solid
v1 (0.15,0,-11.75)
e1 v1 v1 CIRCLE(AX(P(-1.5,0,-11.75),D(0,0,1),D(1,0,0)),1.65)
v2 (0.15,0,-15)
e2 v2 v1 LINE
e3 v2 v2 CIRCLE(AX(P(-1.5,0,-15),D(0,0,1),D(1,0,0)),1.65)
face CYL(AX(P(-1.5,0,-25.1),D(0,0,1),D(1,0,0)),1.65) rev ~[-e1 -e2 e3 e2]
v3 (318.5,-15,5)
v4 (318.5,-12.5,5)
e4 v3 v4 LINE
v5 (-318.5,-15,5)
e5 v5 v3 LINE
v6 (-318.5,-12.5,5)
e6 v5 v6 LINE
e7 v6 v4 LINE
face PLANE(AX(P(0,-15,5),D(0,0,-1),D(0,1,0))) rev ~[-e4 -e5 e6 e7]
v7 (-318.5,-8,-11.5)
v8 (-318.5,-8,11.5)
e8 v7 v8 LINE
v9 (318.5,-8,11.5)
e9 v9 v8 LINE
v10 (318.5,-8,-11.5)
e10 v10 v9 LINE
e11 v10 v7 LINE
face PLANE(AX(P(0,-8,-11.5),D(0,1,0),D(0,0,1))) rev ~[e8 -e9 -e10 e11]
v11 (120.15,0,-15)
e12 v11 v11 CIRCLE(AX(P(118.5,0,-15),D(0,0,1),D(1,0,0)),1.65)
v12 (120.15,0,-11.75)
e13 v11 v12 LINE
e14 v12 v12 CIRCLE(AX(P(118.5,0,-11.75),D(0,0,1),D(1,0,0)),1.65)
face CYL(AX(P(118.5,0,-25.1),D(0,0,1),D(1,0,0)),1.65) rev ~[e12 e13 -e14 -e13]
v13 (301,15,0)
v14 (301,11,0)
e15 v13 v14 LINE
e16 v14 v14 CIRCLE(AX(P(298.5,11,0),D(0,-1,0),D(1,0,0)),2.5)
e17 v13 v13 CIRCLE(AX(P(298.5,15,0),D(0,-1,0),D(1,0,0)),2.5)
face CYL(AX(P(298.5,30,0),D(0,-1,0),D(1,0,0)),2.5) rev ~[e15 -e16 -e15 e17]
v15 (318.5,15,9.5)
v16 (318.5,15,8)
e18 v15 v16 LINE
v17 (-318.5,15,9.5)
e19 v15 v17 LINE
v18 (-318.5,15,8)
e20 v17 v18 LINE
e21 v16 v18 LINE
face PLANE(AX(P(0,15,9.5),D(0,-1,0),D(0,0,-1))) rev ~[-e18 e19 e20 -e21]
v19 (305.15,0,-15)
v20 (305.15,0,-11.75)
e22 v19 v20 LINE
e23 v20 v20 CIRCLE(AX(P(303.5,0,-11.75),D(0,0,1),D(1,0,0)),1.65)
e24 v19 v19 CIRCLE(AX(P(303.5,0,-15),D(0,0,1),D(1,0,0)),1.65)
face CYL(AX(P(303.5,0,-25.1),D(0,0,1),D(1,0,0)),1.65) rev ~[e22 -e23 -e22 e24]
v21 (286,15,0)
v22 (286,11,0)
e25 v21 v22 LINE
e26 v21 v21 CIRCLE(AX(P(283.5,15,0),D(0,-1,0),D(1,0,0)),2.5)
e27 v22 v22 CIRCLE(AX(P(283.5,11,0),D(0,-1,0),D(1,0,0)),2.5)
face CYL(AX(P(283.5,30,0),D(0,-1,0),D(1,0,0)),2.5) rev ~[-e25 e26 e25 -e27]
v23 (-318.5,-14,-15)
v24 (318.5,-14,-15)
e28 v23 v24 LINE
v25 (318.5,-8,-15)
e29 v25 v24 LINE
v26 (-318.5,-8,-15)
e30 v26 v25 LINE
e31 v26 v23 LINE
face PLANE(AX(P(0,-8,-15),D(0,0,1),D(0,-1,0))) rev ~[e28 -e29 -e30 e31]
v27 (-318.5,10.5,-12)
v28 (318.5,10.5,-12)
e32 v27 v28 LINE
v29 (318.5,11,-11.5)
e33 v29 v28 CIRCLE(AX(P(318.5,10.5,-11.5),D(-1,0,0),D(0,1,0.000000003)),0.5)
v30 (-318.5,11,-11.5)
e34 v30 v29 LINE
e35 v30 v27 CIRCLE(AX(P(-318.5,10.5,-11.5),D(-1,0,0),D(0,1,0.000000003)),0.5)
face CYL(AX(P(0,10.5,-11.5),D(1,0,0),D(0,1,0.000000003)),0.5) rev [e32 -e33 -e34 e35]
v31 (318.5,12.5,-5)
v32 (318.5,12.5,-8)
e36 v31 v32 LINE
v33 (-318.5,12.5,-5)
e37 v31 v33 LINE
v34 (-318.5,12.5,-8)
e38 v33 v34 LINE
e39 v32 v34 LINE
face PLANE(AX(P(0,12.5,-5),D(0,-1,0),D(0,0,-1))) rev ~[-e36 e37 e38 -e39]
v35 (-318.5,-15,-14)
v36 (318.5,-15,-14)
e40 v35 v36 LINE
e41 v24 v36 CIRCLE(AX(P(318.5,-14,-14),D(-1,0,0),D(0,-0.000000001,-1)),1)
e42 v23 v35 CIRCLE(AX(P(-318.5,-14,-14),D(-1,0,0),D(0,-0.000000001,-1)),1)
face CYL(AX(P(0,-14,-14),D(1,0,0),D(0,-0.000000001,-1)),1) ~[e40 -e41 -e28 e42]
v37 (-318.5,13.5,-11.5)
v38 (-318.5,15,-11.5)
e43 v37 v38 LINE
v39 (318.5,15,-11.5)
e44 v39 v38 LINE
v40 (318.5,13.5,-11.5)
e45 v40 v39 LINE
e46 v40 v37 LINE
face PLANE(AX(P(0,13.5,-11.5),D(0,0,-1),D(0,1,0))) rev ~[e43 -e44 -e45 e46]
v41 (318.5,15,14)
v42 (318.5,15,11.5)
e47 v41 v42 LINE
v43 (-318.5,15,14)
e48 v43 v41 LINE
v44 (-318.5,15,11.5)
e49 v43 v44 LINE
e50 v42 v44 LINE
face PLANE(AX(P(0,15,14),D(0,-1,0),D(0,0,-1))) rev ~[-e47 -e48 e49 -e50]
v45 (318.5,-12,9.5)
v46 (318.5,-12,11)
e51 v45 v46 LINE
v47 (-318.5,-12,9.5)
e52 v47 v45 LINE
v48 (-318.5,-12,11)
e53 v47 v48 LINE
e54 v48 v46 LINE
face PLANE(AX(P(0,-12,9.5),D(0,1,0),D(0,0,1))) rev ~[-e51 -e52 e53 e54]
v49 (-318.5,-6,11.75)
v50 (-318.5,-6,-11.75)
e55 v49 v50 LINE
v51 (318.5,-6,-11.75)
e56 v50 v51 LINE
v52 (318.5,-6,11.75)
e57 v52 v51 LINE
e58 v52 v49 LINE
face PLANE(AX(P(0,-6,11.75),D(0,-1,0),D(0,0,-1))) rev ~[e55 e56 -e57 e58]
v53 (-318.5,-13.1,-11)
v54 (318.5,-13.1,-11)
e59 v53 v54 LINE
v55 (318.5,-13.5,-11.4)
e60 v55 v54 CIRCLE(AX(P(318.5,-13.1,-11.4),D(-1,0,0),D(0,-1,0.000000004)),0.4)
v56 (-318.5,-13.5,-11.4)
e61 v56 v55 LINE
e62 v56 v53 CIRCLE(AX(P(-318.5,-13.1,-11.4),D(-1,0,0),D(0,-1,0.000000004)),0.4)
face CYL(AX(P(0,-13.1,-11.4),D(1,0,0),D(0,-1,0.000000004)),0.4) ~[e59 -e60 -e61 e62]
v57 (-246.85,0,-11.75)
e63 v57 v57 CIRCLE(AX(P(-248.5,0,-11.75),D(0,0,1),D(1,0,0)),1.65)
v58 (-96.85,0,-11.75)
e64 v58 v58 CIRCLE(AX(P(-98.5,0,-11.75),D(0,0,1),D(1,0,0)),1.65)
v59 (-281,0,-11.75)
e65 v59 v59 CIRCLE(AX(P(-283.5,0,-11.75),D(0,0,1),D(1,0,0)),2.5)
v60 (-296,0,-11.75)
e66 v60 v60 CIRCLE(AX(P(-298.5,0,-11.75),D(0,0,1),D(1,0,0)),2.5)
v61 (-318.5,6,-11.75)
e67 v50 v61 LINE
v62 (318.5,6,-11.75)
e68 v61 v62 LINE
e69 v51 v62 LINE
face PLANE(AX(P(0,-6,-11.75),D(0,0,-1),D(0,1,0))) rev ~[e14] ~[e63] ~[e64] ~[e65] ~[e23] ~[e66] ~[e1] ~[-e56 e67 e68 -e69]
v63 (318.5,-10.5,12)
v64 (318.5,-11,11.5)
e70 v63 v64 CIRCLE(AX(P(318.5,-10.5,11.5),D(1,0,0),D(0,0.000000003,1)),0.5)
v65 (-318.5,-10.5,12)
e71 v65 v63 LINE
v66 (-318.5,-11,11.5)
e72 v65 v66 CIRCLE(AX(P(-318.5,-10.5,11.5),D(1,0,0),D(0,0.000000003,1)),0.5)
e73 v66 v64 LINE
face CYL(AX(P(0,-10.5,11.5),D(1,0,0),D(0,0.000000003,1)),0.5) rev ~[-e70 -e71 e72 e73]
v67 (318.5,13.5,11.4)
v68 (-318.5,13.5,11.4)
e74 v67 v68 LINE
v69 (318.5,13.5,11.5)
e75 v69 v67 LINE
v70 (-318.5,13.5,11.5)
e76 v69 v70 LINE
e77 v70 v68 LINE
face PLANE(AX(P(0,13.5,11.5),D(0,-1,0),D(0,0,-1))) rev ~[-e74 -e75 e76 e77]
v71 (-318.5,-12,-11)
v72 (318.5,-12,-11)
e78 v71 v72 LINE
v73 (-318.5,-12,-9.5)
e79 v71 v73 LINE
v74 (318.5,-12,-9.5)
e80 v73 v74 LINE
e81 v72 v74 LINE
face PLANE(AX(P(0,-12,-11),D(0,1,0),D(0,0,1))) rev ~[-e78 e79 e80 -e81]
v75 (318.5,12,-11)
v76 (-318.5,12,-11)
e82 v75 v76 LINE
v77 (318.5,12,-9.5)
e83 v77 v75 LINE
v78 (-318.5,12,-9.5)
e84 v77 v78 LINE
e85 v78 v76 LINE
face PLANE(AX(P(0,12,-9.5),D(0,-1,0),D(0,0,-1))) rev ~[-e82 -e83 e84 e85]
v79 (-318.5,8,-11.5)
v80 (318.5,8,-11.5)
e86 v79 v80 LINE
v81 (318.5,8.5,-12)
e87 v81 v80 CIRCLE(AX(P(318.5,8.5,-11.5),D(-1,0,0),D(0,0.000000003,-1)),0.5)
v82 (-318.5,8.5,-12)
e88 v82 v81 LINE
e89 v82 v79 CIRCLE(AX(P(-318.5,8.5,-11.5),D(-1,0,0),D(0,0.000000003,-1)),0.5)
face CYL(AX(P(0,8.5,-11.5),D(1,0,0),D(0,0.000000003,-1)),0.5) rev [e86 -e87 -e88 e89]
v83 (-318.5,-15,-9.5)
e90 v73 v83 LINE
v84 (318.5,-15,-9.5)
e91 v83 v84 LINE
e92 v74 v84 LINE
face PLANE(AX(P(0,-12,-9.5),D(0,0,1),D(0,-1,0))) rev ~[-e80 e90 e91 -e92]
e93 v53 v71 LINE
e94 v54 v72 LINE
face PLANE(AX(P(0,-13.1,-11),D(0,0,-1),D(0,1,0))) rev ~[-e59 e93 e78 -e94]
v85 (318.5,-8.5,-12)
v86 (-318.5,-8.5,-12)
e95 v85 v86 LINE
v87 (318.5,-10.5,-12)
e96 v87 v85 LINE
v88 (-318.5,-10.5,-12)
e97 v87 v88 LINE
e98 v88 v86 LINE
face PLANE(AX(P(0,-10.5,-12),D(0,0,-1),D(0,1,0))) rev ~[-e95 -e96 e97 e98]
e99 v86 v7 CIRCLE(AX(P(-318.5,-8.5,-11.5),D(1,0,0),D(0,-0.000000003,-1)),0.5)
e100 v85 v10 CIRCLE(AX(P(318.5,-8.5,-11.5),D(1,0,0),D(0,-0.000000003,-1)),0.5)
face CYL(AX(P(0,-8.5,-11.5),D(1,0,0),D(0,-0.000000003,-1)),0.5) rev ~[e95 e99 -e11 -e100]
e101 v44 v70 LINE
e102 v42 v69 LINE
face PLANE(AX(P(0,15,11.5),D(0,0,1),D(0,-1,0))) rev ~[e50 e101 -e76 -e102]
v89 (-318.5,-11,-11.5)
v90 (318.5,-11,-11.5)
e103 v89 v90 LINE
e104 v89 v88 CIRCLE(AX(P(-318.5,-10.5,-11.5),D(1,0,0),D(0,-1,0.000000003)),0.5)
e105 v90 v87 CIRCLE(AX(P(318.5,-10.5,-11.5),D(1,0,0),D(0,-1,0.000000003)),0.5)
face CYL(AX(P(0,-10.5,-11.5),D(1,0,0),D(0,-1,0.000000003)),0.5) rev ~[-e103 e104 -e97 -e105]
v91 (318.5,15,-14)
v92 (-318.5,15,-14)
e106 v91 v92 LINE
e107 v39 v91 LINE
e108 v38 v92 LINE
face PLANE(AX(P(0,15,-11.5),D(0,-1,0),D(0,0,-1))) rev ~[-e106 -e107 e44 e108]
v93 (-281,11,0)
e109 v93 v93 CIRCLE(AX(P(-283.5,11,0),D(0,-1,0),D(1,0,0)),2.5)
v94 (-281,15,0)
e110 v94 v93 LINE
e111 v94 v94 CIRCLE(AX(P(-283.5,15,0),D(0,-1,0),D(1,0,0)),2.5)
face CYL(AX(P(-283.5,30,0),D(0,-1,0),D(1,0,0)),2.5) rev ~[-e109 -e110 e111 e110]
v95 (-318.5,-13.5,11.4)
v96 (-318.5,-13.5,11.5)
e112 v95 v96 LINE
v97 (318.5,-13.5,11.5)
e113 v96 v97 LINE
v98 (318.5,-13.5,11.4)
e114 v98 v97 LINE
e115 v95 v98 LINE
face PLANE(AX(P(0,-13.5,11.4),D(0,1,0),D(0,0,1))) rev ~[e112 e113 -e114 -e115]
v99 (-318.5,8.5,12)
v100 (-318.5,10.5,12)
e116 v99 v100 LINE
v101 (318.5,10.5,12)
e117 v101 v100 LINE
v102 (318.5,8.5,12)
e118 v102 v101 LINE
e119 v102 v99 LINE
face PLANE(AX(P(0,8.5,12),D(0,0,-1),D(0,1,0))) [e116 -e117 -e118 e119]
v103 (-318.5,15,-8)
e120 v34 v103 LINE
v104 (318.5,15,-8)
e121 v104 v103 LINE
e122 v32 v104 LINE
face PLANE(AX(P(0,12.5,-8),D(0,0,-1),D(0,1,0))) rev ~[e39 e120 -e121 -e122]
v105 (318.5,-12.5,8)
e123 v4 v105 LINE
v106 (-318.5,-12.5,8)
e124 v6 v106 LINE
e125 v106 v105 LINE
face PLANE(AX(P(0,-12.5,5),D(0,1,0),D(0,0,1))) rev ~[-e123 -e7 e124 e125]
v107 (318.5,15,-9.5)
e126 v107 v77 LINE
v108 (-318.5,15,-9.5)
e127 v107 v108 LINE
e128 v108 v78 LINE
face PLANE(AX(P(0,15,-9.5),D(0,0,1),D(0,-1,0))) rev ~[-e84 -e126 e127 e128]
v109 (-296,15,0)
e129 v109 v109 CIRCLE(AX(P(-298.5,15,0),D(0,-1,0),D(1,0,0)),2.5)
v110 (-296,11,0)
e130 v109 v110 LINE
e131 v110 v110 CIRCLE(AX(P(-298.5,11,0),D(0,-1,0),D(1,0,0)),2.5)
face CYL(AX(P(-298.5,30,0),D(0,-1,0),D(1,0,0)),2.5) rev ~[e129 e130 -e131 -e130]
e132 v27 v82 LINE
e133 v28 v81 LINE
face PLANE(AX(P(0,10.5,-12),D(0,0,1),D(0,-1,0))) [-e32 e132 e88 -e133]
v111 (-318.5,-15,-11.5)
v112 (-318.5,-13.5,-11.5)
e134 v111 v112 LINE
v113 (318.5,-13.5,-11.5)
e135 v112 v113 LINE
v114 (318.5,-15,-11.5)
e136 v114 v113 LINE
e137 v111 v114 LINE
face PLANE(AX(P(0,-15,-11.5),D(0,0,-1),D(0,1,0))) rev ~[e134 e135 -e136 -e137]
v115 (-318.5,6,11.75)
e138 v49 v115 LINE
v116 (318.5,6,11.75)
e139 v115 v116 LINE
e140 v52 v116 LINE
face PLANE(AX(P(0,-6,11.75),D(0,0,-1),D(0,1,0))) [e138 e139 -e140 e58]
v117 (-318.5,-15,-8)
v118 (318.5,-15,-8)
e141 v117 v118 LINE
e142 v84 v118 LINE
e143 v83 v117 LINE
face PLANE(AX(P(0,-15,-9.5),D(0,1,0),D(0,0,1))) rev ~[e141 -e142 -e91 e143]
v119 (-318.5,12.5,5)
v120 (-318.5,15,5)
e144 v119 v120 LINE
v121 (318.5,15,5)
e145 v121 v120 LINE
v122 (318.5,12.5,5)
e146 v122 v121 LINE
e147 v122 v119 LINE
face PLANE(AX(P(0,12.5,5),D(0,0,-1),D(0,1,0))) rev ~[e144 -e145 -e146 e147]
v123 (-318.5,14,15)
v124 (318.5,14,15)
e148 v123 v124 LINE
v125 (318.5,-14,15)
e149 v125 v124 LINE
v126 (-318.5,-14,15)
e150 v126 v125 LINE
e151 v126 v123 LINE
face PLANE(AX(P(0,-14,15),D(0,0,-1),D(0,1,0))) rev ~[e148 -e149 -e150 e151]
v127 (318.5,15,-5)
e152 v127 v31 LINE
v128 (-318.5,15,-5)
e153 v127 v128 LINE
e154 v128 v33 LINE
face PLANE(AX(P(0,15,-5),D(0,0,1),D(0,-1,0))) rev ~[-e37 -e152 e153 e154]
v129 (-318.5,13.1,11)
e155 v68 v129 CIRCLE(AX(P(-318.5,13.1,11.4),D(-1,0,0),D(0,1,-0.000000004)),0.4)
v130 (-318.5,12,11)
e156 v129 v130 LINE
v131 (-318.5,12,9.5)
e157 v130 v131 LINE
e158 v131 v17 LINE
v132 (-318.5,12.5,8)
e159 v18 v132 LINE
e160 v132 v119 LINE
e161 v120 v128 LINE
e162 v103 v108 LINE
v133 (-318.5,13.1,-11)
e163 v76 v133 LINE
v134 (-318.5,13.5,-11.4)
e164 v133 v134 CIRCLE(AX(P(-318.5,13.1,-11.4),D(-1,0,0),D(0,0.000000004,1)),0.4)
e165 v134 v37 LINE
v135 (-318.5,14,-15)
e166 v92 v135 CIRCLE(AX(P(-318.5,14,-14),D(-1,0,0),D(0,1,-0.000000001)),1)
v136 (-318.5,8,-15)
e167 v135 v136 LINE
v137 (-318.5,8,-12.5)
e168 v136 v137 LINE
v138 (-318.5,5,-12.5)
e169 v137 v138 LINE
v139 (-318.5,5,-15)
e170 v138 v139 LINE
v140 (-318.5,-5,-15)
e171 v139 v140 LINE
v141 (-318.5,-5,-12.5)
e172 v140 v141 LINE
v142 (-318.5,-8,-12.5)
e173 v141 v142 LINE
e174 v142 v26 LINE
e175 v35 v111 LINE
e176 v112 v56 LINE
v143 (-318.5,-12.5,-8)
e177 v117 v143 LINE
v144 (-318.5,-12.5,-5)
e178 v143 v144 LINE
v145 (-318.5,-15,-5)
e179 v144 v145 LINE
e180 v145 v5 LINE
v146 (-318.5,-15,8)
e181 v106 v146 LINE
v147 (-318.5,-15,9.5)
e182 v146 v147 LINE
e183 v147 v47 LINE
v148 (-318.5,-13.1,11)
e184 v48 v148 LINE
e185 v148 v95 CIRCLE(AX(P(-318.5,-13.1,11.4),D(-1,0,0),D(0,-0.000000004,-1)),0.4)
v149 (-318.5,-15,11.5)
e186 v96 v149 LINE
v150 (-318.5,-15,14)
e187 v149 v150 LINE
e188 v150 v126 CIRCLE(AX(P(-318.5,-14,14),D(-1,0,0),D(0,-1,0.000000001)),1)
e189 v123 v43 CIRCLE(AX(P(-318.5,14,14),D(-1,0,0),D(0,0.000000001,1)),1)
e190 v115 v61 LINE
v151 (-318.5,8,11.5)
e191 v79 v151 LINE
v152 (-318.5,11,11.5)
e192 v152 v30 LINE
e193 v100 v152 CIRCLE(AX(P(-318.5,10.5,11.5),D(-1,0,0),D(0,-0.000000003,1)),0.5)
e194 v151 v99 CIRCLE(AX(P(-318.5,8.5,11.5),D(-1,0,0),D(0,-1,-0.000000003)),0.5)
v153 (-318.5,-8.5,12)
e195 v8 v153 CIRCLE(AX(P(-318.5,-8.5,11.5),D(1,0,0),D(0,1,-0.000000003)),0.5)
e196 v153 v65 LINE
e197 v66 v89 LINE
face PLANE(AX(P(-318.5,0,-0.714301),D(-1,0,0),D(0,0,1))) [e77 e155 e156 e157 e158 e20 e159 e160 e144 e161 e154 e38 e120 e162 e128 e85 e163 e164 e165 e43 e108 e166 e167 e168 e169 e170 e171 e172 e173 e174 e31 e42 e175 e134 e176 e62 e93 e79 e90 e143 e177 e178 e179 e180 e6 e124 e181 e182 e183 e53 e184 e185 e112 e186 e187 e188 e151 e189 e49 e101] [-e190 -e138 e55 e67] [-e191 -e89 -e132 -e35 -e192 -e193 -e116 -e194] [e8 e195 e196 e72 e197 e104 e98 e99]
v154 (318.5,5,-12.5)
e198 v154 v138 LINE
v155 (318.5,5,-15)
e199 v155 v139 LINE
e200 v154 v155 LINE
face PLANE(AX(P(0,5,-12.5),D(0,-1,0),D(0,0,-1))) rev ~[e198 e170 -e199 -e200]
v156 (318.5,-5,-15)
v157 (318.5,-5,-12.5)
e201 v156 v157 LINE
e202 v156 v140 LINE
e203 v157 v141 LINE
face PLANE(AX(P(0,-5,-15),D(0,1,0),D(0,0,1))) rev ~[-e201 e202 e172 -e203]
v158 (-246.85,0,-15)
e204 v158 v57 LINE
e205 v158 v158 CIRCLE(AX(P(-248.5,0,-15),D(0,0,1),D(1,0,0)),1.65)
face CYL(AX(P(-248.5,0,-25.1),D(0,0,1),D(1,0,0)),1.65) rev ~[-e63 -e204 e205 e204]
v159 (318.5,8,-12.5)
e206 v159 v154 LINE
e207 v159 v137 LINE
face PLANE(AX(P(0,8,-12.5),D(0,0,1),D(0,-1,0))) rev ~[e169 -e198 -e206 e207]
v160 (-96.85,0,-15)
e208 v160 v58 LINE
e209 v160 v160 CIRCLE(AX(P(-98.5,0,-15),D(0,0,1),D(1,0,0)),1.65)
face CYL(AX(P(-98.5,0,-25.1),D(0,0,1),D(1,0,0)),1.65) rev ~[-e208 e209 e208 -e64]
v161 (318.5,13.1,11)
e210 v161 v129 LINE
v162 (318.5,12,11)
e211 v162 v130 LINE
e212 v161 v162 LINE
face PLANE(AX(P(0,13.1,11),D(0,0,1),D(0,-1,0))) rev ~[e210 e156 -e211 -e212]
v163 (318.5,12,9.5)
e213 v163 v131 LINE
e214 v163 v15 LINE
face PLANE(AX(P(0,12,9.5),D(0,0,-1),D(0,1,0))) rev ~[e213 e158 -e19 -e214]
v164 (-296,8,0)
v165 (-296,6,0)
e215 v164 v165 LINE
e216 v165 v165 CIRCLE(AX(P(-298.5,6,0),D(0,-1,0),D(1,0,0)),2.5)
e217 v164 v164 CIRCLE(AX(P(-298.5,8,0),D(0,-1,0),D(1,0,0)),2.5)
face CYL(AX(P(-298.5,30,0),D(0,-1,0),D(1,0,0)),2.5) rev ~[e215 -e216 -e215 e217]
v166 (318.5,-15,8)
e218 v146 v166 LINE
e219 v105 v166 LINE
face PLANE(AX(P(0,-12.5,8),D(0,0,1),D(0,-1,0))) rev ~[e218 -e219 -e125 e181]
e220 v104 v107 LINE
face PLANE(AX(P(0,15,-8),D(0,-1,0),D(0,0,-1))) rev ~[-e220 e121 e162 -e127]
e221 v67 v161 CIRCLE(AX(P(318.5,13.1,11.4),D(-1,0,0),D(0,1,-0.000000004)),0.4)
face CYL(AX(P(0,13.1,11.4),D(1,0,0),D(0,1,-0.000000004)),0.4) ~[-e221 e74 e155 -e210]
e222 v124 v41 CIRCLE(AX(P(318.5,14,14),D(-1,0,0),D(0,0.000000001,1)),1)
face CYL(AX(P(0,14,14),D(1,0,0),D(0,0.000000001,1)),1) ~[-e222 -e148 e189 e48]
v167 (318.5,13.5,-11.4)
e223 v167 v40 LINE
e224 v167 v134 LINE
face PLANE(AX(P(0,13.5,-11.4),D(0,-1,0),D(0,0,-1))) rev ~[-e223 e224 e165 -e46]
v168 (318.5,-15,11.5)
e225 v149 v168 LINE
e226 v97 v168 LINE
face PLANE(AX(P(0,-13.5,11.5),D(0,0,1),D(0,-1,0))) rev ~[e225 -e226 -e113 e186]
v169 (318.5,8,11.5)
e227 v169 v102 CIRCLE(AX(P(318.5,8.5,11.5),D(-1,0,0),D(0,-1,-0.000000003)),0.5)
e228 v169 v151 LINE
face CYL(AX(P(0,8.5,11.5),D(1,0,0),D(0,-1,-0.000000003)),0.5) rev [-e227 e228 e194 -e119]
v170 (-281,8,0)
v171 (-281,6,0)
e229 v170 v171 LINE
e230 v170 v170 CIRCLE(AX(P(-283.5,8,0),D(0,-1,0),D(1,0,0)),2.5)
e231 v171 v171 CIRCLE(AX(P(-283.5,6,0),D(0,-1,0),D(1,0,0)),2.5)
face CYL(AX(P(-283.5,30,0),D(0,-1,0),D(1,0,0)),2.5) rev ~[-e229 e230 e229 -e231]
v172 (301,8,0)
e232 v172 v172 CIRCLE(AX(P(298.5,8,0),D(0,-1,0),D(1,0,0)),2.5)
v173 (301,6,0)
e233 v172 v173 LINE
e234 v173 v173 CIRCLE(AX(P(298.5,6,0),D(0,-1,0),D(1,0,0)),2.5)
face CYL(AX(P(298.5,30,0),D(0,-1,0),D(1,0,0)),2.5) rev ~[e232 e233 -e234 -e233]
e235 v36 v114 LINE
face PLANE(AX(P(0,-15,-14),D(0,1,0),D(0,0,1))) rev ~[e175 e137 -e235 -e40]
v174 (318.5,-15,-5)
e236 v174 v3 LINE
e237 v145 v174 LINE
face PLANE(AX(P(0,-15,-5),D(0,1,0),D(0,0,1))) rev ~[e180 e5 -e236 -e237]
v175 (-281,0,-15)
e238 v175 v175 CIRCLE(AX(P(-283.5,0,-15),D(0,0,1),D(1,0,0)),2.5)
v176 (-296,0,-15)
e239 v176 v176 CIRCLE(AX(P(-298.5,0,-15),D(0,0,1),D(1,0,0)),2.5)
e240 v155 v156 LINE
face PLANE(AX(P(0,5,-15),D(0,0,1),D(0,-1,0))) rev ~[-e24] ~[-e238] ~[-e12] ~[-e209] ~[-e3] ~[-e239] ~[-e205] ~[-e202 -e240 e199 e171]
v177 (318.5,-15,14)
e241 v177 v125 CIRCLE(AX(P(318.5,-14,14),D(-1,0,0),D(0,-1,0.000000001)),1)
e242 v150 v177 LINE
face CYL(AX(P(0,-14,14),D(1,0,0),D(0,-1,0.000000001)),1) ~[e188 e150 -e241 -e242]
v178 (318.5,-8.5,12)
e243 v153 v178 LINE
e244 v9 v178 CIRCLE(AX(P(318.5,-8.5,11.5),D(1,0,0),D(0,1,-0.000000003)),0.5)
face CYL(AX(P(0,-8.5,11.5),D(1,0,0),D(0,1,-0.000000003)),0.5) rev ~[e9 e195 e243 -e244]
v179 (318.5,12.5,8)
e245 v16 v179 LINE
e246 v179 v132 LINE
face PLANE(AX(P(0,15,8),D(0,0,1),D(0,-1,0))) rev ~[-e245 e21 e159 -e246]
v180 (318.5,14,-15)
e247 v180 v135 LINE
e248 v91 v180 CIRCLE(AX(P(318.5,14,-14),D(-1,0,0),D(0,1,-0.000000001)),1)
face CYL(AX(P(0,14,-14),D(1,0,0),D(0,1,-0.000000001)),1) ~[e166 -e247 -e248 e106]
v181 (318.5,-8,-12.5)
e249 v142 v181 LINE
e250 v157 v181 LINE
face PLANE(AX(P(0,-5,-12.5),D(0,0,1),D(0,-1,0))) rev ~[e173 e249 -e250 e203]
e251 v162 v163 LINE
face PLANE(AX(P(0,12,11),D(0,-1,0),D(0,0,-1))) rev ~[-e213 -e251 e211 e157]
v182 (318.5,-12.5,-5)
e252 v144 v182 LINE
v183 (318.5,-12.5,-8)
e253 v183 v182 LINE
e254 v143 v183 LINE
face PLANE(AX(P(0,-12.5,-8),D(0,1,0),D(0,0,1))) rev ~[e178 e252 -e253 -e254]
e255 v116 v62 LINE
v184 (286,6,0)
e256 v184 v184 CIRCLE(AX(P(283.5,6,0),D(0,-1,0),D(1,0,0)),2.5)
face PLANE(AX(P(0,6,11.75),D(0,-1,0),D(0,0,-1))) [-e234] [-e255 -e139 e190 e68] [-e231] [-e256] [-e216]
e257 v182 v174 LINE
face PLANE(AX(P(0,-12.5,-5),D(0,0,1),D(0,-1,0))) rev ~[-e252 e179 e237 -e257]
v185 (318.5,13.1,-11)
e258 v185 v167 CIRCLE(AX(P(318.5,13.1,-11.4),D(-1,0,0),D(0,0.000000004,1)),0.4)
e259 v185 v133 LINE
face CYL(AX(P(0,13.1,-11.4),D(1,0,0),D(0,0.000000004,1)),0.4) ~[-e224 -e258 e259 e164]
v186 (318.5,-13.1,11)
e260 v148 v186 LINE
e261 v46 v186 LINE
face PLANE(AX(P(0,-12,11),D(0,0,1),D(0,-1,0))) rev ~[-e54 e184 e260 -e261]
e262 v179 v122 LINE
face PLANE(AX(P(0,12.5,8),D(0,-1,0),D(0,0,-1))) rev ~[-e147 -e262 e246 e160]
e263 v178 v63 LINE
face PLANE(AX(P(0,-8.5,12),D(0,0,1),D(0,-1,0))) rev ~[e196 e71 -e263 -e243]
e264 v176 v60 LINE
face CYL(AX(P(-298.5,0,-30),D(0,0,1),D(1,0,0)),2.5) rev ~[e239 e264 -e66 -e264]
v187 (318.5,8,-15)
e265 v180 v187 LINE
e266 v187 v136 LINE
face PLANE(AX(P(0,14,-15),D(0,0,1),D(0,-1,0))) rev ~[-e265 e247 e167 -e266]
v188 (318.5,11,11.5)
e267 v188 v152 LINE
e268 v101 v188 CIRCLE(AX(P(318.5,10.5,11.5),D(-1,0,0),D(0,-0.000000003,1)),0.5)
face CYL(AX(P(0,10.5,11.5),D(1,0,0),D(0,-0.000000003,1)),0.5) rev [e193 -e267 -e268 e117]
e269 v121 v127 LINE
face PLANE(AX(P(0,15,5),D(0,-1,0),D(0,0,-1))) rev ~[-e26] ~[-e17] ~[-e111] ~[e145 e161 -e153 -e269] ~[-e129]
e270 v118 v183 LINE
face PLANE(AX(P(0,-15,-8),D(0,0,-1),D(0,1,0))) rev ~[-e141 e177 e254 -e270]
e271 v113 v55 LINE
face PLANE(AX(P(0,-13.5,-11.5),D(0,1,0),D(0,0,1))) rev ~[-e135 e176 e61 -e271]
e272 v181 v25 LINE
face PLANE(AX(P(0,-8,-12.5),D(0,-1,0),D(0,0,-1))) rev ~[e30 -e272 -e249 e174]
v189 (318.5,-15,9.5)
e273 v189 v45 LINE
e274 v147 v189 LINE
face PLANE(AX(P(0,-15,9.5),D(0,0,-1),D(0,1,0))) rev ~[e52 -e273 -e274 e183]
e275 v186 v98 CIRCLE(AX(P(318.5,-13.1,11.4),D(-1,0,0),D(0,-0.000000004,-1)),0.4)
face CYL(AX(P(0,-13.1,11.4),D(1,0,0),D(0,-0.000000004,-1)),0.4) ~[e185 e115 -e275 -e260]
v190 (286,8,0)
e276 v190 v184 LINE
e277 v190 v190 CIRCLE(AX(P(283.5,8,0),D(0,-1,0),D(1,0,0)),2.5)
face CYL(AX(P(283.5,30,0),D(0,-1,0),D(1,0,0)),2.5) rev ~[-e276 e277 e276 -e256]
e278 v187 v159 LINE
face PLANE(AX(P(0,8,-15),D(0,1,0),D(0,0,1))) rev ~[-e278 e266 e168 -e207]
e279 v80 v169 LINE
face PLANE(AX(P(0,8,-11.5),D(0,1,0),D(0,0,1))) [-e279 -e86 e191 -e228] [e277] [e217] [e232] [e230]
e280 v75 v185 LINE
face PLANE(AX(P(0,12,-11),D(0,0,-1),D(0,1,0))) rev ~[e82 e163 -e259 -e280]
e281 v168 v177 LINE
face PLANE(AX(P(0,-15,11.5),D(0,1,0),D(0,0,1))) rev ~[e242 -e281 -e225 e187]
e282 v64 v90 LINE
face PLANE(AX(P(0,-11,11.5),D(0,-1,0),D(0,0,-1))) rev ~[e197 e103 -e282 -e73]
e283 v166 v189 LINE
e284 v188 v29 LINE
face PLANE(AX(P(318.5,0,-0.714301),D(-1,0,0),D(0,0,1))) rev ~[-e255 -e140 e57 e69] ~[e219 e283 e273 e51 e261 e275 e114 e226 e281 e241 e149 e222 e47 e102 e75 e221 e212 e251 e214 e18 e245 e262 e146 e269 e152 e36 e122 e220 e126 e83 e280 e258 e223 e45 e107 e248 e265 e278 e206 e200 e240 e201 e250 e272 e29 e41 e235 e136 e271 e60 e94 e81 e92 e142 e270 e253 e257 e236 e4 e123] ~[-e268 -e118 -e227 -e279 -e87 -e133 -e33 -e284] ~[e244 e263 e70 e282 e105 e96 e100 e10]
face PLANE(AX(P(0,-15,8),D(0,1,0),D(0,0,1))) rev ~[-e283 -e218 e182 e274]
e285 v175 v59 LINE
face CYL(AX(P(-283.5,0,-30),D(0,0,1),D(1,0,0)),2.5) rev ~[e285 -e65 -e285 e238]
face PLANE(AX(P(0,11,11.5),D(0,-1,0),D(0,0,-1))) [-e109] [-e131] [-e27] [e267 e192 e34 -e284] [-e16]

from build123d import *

# Parameters (mm, degrees)
SKETCH_1_W             = 23.5
SKETCH_1_H             = 12
EXTRUDE_1_DEPTH        = 318.5
HOLE_WIZARD_M6_1_D     = 5
HOLE_WIZARD_M6_1_DEPTH = 15
HOLE_WIZARD_M6_1_TIP   = 1.502151548
HOLE_WIZARD_M6_2_D     = 5
HOLE_WIZARD_M6_2_DEPTH = 15
HOLE_WIZARD_M6_2_TIP   = 1.502151548
HOLE_WIZARD_M4_1_D     = 3.3
HOLE_WIZARD_M4_1_DEPTH = 10.1
HOLE_WIZARD_M4_1_TIP   = 0.991420021


with BuildPart() as part:
    # 草图1 → 凸台-拉伸1 (new, symmetric)
    with BuildSketch(Plane(origin=(0, 0, 0), x_dir=(0, 0, -1), z_dir=(1, 0, 0))):
        with BuildLine():
            Line((-14, 15), (-11.5, 15))
            Line((-11.5, 15), (-11.5, 13.5))
            Line((-11.5, 13.5), (-11.4, 13.5))
            ThreePointArc((-11.4, 13.5), (-11.117157288, 13.382842712), (-11, 13.1))
            Line((-11, 13.1), (-11, 12))
            Line((-11, 12), (-9.5, 12))
            Line((-9.5, 12), (-9.5, 15))
            Line((-9.5, 15), (-8, 15))
            Line((-8, 15), (-8, 12.5))
            Line((-8, 12.5), (-5, 12.5))
            Line((-5, 12.5), (-5, 15))
            Line((-5, 15), (5, 15))
            Line((5, 15), (5, 12.5))
            Line((5, 12.5), (8, 12.5))
            Line((8, 12.5), (8, 15))
            Line((8, 15), (9.5, 15))
            Line((9.5, 15), (9.5, 12))
            Line((9.5, 12), (11, 12))
            Line((11, 12), (11, 13.1))
            ThreePointArc((11, 13.1), (11.117157288, 13.382842712), (11.4, 13.5))
            Line((11.4, 13.5), (11.5, 13.5))
            Line((11.5, 13.5), (11.5, 15))
            Line((11.5, 15), (14, 15))
            ThreePointArc((14, 15), (14.707106781, 14.707106781), (15, 14))
            Line((15, 14), (15, 8))
            Line((15, 8), (12.5, 8))
            Line((12.5, 8), (12.5, 5))
            Line((12.5, 5), (15, 5))
            Line((15, 5), (15, -5))
            Line((15, -5), (12.5, -5))
            Line((12.5, -5), (12.5, -8))
            Line((12.5, -8), (15, -8))
            Line((15, -8), (15, -14))
            ThreePointArc((15, -14), (14.707106781, -14.707106781), (14, -15))
            Line((14, -15), (11.5, -15))
            Line((11.5, -15), (11.5, -13.5))
            Line((11.5, -13.5), (11.4, -13.5))
            ThreePointArc((11.4, -13.5), (11.117157288, -13.382842712), (11, -13.1))
            Line((11, -13.1), (11, -12))
            Line((11, -12), (9.5, -12))
            Line((9.5, -12), (9.5, -15))
            Line((9.5, -15), (8, -15))
            Line((8, -15), (8, -12.5))
            Line((8, -12.5), (5, -12.5))
            Line((5, -12.5), (5, -15))
            Line((5, -15), (-5, -15))
            Line((-5, -15), (-5, -12.5))
            Line((-5, -12.5), (-8, -12.5))
            Line((-8, -12.5), (-8, -15))
            Line((-8, -15), (-9.5, -15))
            Line((-9.5, -15), (-9.5, -12))
            Line((-9.5, -12), (-11, -12))
            Line((-11, -12), (-11, -13.1))
            ThreePointArc((-11, -13.1), (-11.117157288, -13.382842712), (-11.4, -13.5))
            Line((-11.4, -13.5), (-11.5, -13.5))
            Line((-11.5, -13.5), (-11.5, -15))
            Line((-11.5, -15), (-14, -15))
            ThreePointArc((-14, -15), (-14.707106781, -14.707106781), (-15, -14))
            Line((-15, -14), (-15, 14))
            ThreePointArc((-15, 14), (-14.707106781, 14.707106781), (-14, 15))
        make_face()
        with BuildLine():
            Line((12, -10.5), (12, -8.5))
            ThreePointArc((12, -8.5), (11.853553391, -8.146446609), (11.5, -8))
            Line((11.5, -8), (-11.5, -8))
            ThreePointArc((-11.5, -8), (-11.853553391, -8.146446609), (-12, -8.5))
            Line((-12, -8.5), (-12, -10.5))
            ThreePointArc((-12, -10.5), (-11.853553391, -10.853553391), (-11.5, -11))
            Line((-11.5, -11), (11.5, -11))
            ThreePointArc((11.5, -11), (11.853553391, -10.853553391), (12, -10.5))
        make_face(mode=Mode.SUBTRACT)
        with BuildLine():
            Line((-11.5, 11), (11.5, 11))
            ThreePointArc((11.5, 11), (11.853553391, 10.853553391), (12, 10.5))
            Line((12, 10.5), (12, 8.5))
            ThreePointArc((12, 8.5), (11.853553391, 8.146446609), (11.5, 8))
            Line((11.5, 8), (-11.5, 8))
            ThreePointArc((-11.5, 8), (-11.853553391, 8.146446609), (-12, 8.5))
            Line((-12, 8.5), (-12, 10.5))
            ThreePointArc((-12, 10.5), (-11.853553391, 10.853553391), (-11.5, 11))
        make_face(mode=Mode.SUBTRACT)
        Rectangle(SKETCH_1_W, SKETCH_1_H, mode=Mode.SUBTRACT)
    extrude(amount=EXTRUDE_1_DEPTH, both=True)

    # M6 螺纹孔1
    with Locations(Plane(origin=(0, 15, 0), x_dir=(-1, 0, 0), z_dir=(0, 1, 0))):
        with Locations((298.5, 0), (283.5, 0), (-283.5, 0), (-298.5, 0)):
            Hole(HOLE_WIZARD_M6_1_D / 2, depth=HOLE_WIZARD_M6_1_DEPTH)
            with Locations((0, 0, -(HOLE_WIZARD_M6_1_DEPTH + HOLE_WIZARD_M6_1_TIP / 2))):  # 118° drill point
                Cone(0, HOLE_WIZARD_M6_1_D / 2, HOLE_WIZARD_M6_1_TIP, mode=Mode.SUBTRACT)

    # M6 螺纹孔2
    with Locations(Plane(origin=(0, 0, -15), x_dir=(-1, 0, 0), z_dir=(0, 0, -1))):
        with Locations((298.5, 0), (283.5, 0)):
            Hole(HOLE_WIZARD_M6_2_D / 2, depth=HOLE_WIZARD_M6_2_DEPTH)
            with Locations((0, 0, -(HOLE_WIZARD_M6_2_DEPTH + HOLE_WIZARD_M6_2_TIP / 2))):  # 118° drill point
                Cone(0, HOLE_WIZARD_M6_2_D / 2, HOLE_WIZARD_M6_2_TIP, mode=Mode.SUBTRACT)

    # M4 螺纹孔1
    with Locations(Plane(origin=(0, 0, -15), x_dir=(-1, 0, 0), z_dir=(0, 0, -1))):
        with Locations((-303.5, 0), (-118.5, 0), (1.5, 0), (98.5, 0), (248.5, 0)):
            Hole(HOLE_WIZARD_M4_1_D / 2, depth=HOLE_WIZARD_M4_1_DEPTH)
            with Locations((0, 0, -(HOLE_WIZARD_M4_1_DEPTH + HOLE_WIZARD_M4_1_TIP / 2))):  # 118° drill point
                Cone(0, HOLE_WIZARD_M4_1_D / 2, HOLE_WIZARD_M4_1_TIP, mode=Mode.SUBTRACT)


solid = part.part
